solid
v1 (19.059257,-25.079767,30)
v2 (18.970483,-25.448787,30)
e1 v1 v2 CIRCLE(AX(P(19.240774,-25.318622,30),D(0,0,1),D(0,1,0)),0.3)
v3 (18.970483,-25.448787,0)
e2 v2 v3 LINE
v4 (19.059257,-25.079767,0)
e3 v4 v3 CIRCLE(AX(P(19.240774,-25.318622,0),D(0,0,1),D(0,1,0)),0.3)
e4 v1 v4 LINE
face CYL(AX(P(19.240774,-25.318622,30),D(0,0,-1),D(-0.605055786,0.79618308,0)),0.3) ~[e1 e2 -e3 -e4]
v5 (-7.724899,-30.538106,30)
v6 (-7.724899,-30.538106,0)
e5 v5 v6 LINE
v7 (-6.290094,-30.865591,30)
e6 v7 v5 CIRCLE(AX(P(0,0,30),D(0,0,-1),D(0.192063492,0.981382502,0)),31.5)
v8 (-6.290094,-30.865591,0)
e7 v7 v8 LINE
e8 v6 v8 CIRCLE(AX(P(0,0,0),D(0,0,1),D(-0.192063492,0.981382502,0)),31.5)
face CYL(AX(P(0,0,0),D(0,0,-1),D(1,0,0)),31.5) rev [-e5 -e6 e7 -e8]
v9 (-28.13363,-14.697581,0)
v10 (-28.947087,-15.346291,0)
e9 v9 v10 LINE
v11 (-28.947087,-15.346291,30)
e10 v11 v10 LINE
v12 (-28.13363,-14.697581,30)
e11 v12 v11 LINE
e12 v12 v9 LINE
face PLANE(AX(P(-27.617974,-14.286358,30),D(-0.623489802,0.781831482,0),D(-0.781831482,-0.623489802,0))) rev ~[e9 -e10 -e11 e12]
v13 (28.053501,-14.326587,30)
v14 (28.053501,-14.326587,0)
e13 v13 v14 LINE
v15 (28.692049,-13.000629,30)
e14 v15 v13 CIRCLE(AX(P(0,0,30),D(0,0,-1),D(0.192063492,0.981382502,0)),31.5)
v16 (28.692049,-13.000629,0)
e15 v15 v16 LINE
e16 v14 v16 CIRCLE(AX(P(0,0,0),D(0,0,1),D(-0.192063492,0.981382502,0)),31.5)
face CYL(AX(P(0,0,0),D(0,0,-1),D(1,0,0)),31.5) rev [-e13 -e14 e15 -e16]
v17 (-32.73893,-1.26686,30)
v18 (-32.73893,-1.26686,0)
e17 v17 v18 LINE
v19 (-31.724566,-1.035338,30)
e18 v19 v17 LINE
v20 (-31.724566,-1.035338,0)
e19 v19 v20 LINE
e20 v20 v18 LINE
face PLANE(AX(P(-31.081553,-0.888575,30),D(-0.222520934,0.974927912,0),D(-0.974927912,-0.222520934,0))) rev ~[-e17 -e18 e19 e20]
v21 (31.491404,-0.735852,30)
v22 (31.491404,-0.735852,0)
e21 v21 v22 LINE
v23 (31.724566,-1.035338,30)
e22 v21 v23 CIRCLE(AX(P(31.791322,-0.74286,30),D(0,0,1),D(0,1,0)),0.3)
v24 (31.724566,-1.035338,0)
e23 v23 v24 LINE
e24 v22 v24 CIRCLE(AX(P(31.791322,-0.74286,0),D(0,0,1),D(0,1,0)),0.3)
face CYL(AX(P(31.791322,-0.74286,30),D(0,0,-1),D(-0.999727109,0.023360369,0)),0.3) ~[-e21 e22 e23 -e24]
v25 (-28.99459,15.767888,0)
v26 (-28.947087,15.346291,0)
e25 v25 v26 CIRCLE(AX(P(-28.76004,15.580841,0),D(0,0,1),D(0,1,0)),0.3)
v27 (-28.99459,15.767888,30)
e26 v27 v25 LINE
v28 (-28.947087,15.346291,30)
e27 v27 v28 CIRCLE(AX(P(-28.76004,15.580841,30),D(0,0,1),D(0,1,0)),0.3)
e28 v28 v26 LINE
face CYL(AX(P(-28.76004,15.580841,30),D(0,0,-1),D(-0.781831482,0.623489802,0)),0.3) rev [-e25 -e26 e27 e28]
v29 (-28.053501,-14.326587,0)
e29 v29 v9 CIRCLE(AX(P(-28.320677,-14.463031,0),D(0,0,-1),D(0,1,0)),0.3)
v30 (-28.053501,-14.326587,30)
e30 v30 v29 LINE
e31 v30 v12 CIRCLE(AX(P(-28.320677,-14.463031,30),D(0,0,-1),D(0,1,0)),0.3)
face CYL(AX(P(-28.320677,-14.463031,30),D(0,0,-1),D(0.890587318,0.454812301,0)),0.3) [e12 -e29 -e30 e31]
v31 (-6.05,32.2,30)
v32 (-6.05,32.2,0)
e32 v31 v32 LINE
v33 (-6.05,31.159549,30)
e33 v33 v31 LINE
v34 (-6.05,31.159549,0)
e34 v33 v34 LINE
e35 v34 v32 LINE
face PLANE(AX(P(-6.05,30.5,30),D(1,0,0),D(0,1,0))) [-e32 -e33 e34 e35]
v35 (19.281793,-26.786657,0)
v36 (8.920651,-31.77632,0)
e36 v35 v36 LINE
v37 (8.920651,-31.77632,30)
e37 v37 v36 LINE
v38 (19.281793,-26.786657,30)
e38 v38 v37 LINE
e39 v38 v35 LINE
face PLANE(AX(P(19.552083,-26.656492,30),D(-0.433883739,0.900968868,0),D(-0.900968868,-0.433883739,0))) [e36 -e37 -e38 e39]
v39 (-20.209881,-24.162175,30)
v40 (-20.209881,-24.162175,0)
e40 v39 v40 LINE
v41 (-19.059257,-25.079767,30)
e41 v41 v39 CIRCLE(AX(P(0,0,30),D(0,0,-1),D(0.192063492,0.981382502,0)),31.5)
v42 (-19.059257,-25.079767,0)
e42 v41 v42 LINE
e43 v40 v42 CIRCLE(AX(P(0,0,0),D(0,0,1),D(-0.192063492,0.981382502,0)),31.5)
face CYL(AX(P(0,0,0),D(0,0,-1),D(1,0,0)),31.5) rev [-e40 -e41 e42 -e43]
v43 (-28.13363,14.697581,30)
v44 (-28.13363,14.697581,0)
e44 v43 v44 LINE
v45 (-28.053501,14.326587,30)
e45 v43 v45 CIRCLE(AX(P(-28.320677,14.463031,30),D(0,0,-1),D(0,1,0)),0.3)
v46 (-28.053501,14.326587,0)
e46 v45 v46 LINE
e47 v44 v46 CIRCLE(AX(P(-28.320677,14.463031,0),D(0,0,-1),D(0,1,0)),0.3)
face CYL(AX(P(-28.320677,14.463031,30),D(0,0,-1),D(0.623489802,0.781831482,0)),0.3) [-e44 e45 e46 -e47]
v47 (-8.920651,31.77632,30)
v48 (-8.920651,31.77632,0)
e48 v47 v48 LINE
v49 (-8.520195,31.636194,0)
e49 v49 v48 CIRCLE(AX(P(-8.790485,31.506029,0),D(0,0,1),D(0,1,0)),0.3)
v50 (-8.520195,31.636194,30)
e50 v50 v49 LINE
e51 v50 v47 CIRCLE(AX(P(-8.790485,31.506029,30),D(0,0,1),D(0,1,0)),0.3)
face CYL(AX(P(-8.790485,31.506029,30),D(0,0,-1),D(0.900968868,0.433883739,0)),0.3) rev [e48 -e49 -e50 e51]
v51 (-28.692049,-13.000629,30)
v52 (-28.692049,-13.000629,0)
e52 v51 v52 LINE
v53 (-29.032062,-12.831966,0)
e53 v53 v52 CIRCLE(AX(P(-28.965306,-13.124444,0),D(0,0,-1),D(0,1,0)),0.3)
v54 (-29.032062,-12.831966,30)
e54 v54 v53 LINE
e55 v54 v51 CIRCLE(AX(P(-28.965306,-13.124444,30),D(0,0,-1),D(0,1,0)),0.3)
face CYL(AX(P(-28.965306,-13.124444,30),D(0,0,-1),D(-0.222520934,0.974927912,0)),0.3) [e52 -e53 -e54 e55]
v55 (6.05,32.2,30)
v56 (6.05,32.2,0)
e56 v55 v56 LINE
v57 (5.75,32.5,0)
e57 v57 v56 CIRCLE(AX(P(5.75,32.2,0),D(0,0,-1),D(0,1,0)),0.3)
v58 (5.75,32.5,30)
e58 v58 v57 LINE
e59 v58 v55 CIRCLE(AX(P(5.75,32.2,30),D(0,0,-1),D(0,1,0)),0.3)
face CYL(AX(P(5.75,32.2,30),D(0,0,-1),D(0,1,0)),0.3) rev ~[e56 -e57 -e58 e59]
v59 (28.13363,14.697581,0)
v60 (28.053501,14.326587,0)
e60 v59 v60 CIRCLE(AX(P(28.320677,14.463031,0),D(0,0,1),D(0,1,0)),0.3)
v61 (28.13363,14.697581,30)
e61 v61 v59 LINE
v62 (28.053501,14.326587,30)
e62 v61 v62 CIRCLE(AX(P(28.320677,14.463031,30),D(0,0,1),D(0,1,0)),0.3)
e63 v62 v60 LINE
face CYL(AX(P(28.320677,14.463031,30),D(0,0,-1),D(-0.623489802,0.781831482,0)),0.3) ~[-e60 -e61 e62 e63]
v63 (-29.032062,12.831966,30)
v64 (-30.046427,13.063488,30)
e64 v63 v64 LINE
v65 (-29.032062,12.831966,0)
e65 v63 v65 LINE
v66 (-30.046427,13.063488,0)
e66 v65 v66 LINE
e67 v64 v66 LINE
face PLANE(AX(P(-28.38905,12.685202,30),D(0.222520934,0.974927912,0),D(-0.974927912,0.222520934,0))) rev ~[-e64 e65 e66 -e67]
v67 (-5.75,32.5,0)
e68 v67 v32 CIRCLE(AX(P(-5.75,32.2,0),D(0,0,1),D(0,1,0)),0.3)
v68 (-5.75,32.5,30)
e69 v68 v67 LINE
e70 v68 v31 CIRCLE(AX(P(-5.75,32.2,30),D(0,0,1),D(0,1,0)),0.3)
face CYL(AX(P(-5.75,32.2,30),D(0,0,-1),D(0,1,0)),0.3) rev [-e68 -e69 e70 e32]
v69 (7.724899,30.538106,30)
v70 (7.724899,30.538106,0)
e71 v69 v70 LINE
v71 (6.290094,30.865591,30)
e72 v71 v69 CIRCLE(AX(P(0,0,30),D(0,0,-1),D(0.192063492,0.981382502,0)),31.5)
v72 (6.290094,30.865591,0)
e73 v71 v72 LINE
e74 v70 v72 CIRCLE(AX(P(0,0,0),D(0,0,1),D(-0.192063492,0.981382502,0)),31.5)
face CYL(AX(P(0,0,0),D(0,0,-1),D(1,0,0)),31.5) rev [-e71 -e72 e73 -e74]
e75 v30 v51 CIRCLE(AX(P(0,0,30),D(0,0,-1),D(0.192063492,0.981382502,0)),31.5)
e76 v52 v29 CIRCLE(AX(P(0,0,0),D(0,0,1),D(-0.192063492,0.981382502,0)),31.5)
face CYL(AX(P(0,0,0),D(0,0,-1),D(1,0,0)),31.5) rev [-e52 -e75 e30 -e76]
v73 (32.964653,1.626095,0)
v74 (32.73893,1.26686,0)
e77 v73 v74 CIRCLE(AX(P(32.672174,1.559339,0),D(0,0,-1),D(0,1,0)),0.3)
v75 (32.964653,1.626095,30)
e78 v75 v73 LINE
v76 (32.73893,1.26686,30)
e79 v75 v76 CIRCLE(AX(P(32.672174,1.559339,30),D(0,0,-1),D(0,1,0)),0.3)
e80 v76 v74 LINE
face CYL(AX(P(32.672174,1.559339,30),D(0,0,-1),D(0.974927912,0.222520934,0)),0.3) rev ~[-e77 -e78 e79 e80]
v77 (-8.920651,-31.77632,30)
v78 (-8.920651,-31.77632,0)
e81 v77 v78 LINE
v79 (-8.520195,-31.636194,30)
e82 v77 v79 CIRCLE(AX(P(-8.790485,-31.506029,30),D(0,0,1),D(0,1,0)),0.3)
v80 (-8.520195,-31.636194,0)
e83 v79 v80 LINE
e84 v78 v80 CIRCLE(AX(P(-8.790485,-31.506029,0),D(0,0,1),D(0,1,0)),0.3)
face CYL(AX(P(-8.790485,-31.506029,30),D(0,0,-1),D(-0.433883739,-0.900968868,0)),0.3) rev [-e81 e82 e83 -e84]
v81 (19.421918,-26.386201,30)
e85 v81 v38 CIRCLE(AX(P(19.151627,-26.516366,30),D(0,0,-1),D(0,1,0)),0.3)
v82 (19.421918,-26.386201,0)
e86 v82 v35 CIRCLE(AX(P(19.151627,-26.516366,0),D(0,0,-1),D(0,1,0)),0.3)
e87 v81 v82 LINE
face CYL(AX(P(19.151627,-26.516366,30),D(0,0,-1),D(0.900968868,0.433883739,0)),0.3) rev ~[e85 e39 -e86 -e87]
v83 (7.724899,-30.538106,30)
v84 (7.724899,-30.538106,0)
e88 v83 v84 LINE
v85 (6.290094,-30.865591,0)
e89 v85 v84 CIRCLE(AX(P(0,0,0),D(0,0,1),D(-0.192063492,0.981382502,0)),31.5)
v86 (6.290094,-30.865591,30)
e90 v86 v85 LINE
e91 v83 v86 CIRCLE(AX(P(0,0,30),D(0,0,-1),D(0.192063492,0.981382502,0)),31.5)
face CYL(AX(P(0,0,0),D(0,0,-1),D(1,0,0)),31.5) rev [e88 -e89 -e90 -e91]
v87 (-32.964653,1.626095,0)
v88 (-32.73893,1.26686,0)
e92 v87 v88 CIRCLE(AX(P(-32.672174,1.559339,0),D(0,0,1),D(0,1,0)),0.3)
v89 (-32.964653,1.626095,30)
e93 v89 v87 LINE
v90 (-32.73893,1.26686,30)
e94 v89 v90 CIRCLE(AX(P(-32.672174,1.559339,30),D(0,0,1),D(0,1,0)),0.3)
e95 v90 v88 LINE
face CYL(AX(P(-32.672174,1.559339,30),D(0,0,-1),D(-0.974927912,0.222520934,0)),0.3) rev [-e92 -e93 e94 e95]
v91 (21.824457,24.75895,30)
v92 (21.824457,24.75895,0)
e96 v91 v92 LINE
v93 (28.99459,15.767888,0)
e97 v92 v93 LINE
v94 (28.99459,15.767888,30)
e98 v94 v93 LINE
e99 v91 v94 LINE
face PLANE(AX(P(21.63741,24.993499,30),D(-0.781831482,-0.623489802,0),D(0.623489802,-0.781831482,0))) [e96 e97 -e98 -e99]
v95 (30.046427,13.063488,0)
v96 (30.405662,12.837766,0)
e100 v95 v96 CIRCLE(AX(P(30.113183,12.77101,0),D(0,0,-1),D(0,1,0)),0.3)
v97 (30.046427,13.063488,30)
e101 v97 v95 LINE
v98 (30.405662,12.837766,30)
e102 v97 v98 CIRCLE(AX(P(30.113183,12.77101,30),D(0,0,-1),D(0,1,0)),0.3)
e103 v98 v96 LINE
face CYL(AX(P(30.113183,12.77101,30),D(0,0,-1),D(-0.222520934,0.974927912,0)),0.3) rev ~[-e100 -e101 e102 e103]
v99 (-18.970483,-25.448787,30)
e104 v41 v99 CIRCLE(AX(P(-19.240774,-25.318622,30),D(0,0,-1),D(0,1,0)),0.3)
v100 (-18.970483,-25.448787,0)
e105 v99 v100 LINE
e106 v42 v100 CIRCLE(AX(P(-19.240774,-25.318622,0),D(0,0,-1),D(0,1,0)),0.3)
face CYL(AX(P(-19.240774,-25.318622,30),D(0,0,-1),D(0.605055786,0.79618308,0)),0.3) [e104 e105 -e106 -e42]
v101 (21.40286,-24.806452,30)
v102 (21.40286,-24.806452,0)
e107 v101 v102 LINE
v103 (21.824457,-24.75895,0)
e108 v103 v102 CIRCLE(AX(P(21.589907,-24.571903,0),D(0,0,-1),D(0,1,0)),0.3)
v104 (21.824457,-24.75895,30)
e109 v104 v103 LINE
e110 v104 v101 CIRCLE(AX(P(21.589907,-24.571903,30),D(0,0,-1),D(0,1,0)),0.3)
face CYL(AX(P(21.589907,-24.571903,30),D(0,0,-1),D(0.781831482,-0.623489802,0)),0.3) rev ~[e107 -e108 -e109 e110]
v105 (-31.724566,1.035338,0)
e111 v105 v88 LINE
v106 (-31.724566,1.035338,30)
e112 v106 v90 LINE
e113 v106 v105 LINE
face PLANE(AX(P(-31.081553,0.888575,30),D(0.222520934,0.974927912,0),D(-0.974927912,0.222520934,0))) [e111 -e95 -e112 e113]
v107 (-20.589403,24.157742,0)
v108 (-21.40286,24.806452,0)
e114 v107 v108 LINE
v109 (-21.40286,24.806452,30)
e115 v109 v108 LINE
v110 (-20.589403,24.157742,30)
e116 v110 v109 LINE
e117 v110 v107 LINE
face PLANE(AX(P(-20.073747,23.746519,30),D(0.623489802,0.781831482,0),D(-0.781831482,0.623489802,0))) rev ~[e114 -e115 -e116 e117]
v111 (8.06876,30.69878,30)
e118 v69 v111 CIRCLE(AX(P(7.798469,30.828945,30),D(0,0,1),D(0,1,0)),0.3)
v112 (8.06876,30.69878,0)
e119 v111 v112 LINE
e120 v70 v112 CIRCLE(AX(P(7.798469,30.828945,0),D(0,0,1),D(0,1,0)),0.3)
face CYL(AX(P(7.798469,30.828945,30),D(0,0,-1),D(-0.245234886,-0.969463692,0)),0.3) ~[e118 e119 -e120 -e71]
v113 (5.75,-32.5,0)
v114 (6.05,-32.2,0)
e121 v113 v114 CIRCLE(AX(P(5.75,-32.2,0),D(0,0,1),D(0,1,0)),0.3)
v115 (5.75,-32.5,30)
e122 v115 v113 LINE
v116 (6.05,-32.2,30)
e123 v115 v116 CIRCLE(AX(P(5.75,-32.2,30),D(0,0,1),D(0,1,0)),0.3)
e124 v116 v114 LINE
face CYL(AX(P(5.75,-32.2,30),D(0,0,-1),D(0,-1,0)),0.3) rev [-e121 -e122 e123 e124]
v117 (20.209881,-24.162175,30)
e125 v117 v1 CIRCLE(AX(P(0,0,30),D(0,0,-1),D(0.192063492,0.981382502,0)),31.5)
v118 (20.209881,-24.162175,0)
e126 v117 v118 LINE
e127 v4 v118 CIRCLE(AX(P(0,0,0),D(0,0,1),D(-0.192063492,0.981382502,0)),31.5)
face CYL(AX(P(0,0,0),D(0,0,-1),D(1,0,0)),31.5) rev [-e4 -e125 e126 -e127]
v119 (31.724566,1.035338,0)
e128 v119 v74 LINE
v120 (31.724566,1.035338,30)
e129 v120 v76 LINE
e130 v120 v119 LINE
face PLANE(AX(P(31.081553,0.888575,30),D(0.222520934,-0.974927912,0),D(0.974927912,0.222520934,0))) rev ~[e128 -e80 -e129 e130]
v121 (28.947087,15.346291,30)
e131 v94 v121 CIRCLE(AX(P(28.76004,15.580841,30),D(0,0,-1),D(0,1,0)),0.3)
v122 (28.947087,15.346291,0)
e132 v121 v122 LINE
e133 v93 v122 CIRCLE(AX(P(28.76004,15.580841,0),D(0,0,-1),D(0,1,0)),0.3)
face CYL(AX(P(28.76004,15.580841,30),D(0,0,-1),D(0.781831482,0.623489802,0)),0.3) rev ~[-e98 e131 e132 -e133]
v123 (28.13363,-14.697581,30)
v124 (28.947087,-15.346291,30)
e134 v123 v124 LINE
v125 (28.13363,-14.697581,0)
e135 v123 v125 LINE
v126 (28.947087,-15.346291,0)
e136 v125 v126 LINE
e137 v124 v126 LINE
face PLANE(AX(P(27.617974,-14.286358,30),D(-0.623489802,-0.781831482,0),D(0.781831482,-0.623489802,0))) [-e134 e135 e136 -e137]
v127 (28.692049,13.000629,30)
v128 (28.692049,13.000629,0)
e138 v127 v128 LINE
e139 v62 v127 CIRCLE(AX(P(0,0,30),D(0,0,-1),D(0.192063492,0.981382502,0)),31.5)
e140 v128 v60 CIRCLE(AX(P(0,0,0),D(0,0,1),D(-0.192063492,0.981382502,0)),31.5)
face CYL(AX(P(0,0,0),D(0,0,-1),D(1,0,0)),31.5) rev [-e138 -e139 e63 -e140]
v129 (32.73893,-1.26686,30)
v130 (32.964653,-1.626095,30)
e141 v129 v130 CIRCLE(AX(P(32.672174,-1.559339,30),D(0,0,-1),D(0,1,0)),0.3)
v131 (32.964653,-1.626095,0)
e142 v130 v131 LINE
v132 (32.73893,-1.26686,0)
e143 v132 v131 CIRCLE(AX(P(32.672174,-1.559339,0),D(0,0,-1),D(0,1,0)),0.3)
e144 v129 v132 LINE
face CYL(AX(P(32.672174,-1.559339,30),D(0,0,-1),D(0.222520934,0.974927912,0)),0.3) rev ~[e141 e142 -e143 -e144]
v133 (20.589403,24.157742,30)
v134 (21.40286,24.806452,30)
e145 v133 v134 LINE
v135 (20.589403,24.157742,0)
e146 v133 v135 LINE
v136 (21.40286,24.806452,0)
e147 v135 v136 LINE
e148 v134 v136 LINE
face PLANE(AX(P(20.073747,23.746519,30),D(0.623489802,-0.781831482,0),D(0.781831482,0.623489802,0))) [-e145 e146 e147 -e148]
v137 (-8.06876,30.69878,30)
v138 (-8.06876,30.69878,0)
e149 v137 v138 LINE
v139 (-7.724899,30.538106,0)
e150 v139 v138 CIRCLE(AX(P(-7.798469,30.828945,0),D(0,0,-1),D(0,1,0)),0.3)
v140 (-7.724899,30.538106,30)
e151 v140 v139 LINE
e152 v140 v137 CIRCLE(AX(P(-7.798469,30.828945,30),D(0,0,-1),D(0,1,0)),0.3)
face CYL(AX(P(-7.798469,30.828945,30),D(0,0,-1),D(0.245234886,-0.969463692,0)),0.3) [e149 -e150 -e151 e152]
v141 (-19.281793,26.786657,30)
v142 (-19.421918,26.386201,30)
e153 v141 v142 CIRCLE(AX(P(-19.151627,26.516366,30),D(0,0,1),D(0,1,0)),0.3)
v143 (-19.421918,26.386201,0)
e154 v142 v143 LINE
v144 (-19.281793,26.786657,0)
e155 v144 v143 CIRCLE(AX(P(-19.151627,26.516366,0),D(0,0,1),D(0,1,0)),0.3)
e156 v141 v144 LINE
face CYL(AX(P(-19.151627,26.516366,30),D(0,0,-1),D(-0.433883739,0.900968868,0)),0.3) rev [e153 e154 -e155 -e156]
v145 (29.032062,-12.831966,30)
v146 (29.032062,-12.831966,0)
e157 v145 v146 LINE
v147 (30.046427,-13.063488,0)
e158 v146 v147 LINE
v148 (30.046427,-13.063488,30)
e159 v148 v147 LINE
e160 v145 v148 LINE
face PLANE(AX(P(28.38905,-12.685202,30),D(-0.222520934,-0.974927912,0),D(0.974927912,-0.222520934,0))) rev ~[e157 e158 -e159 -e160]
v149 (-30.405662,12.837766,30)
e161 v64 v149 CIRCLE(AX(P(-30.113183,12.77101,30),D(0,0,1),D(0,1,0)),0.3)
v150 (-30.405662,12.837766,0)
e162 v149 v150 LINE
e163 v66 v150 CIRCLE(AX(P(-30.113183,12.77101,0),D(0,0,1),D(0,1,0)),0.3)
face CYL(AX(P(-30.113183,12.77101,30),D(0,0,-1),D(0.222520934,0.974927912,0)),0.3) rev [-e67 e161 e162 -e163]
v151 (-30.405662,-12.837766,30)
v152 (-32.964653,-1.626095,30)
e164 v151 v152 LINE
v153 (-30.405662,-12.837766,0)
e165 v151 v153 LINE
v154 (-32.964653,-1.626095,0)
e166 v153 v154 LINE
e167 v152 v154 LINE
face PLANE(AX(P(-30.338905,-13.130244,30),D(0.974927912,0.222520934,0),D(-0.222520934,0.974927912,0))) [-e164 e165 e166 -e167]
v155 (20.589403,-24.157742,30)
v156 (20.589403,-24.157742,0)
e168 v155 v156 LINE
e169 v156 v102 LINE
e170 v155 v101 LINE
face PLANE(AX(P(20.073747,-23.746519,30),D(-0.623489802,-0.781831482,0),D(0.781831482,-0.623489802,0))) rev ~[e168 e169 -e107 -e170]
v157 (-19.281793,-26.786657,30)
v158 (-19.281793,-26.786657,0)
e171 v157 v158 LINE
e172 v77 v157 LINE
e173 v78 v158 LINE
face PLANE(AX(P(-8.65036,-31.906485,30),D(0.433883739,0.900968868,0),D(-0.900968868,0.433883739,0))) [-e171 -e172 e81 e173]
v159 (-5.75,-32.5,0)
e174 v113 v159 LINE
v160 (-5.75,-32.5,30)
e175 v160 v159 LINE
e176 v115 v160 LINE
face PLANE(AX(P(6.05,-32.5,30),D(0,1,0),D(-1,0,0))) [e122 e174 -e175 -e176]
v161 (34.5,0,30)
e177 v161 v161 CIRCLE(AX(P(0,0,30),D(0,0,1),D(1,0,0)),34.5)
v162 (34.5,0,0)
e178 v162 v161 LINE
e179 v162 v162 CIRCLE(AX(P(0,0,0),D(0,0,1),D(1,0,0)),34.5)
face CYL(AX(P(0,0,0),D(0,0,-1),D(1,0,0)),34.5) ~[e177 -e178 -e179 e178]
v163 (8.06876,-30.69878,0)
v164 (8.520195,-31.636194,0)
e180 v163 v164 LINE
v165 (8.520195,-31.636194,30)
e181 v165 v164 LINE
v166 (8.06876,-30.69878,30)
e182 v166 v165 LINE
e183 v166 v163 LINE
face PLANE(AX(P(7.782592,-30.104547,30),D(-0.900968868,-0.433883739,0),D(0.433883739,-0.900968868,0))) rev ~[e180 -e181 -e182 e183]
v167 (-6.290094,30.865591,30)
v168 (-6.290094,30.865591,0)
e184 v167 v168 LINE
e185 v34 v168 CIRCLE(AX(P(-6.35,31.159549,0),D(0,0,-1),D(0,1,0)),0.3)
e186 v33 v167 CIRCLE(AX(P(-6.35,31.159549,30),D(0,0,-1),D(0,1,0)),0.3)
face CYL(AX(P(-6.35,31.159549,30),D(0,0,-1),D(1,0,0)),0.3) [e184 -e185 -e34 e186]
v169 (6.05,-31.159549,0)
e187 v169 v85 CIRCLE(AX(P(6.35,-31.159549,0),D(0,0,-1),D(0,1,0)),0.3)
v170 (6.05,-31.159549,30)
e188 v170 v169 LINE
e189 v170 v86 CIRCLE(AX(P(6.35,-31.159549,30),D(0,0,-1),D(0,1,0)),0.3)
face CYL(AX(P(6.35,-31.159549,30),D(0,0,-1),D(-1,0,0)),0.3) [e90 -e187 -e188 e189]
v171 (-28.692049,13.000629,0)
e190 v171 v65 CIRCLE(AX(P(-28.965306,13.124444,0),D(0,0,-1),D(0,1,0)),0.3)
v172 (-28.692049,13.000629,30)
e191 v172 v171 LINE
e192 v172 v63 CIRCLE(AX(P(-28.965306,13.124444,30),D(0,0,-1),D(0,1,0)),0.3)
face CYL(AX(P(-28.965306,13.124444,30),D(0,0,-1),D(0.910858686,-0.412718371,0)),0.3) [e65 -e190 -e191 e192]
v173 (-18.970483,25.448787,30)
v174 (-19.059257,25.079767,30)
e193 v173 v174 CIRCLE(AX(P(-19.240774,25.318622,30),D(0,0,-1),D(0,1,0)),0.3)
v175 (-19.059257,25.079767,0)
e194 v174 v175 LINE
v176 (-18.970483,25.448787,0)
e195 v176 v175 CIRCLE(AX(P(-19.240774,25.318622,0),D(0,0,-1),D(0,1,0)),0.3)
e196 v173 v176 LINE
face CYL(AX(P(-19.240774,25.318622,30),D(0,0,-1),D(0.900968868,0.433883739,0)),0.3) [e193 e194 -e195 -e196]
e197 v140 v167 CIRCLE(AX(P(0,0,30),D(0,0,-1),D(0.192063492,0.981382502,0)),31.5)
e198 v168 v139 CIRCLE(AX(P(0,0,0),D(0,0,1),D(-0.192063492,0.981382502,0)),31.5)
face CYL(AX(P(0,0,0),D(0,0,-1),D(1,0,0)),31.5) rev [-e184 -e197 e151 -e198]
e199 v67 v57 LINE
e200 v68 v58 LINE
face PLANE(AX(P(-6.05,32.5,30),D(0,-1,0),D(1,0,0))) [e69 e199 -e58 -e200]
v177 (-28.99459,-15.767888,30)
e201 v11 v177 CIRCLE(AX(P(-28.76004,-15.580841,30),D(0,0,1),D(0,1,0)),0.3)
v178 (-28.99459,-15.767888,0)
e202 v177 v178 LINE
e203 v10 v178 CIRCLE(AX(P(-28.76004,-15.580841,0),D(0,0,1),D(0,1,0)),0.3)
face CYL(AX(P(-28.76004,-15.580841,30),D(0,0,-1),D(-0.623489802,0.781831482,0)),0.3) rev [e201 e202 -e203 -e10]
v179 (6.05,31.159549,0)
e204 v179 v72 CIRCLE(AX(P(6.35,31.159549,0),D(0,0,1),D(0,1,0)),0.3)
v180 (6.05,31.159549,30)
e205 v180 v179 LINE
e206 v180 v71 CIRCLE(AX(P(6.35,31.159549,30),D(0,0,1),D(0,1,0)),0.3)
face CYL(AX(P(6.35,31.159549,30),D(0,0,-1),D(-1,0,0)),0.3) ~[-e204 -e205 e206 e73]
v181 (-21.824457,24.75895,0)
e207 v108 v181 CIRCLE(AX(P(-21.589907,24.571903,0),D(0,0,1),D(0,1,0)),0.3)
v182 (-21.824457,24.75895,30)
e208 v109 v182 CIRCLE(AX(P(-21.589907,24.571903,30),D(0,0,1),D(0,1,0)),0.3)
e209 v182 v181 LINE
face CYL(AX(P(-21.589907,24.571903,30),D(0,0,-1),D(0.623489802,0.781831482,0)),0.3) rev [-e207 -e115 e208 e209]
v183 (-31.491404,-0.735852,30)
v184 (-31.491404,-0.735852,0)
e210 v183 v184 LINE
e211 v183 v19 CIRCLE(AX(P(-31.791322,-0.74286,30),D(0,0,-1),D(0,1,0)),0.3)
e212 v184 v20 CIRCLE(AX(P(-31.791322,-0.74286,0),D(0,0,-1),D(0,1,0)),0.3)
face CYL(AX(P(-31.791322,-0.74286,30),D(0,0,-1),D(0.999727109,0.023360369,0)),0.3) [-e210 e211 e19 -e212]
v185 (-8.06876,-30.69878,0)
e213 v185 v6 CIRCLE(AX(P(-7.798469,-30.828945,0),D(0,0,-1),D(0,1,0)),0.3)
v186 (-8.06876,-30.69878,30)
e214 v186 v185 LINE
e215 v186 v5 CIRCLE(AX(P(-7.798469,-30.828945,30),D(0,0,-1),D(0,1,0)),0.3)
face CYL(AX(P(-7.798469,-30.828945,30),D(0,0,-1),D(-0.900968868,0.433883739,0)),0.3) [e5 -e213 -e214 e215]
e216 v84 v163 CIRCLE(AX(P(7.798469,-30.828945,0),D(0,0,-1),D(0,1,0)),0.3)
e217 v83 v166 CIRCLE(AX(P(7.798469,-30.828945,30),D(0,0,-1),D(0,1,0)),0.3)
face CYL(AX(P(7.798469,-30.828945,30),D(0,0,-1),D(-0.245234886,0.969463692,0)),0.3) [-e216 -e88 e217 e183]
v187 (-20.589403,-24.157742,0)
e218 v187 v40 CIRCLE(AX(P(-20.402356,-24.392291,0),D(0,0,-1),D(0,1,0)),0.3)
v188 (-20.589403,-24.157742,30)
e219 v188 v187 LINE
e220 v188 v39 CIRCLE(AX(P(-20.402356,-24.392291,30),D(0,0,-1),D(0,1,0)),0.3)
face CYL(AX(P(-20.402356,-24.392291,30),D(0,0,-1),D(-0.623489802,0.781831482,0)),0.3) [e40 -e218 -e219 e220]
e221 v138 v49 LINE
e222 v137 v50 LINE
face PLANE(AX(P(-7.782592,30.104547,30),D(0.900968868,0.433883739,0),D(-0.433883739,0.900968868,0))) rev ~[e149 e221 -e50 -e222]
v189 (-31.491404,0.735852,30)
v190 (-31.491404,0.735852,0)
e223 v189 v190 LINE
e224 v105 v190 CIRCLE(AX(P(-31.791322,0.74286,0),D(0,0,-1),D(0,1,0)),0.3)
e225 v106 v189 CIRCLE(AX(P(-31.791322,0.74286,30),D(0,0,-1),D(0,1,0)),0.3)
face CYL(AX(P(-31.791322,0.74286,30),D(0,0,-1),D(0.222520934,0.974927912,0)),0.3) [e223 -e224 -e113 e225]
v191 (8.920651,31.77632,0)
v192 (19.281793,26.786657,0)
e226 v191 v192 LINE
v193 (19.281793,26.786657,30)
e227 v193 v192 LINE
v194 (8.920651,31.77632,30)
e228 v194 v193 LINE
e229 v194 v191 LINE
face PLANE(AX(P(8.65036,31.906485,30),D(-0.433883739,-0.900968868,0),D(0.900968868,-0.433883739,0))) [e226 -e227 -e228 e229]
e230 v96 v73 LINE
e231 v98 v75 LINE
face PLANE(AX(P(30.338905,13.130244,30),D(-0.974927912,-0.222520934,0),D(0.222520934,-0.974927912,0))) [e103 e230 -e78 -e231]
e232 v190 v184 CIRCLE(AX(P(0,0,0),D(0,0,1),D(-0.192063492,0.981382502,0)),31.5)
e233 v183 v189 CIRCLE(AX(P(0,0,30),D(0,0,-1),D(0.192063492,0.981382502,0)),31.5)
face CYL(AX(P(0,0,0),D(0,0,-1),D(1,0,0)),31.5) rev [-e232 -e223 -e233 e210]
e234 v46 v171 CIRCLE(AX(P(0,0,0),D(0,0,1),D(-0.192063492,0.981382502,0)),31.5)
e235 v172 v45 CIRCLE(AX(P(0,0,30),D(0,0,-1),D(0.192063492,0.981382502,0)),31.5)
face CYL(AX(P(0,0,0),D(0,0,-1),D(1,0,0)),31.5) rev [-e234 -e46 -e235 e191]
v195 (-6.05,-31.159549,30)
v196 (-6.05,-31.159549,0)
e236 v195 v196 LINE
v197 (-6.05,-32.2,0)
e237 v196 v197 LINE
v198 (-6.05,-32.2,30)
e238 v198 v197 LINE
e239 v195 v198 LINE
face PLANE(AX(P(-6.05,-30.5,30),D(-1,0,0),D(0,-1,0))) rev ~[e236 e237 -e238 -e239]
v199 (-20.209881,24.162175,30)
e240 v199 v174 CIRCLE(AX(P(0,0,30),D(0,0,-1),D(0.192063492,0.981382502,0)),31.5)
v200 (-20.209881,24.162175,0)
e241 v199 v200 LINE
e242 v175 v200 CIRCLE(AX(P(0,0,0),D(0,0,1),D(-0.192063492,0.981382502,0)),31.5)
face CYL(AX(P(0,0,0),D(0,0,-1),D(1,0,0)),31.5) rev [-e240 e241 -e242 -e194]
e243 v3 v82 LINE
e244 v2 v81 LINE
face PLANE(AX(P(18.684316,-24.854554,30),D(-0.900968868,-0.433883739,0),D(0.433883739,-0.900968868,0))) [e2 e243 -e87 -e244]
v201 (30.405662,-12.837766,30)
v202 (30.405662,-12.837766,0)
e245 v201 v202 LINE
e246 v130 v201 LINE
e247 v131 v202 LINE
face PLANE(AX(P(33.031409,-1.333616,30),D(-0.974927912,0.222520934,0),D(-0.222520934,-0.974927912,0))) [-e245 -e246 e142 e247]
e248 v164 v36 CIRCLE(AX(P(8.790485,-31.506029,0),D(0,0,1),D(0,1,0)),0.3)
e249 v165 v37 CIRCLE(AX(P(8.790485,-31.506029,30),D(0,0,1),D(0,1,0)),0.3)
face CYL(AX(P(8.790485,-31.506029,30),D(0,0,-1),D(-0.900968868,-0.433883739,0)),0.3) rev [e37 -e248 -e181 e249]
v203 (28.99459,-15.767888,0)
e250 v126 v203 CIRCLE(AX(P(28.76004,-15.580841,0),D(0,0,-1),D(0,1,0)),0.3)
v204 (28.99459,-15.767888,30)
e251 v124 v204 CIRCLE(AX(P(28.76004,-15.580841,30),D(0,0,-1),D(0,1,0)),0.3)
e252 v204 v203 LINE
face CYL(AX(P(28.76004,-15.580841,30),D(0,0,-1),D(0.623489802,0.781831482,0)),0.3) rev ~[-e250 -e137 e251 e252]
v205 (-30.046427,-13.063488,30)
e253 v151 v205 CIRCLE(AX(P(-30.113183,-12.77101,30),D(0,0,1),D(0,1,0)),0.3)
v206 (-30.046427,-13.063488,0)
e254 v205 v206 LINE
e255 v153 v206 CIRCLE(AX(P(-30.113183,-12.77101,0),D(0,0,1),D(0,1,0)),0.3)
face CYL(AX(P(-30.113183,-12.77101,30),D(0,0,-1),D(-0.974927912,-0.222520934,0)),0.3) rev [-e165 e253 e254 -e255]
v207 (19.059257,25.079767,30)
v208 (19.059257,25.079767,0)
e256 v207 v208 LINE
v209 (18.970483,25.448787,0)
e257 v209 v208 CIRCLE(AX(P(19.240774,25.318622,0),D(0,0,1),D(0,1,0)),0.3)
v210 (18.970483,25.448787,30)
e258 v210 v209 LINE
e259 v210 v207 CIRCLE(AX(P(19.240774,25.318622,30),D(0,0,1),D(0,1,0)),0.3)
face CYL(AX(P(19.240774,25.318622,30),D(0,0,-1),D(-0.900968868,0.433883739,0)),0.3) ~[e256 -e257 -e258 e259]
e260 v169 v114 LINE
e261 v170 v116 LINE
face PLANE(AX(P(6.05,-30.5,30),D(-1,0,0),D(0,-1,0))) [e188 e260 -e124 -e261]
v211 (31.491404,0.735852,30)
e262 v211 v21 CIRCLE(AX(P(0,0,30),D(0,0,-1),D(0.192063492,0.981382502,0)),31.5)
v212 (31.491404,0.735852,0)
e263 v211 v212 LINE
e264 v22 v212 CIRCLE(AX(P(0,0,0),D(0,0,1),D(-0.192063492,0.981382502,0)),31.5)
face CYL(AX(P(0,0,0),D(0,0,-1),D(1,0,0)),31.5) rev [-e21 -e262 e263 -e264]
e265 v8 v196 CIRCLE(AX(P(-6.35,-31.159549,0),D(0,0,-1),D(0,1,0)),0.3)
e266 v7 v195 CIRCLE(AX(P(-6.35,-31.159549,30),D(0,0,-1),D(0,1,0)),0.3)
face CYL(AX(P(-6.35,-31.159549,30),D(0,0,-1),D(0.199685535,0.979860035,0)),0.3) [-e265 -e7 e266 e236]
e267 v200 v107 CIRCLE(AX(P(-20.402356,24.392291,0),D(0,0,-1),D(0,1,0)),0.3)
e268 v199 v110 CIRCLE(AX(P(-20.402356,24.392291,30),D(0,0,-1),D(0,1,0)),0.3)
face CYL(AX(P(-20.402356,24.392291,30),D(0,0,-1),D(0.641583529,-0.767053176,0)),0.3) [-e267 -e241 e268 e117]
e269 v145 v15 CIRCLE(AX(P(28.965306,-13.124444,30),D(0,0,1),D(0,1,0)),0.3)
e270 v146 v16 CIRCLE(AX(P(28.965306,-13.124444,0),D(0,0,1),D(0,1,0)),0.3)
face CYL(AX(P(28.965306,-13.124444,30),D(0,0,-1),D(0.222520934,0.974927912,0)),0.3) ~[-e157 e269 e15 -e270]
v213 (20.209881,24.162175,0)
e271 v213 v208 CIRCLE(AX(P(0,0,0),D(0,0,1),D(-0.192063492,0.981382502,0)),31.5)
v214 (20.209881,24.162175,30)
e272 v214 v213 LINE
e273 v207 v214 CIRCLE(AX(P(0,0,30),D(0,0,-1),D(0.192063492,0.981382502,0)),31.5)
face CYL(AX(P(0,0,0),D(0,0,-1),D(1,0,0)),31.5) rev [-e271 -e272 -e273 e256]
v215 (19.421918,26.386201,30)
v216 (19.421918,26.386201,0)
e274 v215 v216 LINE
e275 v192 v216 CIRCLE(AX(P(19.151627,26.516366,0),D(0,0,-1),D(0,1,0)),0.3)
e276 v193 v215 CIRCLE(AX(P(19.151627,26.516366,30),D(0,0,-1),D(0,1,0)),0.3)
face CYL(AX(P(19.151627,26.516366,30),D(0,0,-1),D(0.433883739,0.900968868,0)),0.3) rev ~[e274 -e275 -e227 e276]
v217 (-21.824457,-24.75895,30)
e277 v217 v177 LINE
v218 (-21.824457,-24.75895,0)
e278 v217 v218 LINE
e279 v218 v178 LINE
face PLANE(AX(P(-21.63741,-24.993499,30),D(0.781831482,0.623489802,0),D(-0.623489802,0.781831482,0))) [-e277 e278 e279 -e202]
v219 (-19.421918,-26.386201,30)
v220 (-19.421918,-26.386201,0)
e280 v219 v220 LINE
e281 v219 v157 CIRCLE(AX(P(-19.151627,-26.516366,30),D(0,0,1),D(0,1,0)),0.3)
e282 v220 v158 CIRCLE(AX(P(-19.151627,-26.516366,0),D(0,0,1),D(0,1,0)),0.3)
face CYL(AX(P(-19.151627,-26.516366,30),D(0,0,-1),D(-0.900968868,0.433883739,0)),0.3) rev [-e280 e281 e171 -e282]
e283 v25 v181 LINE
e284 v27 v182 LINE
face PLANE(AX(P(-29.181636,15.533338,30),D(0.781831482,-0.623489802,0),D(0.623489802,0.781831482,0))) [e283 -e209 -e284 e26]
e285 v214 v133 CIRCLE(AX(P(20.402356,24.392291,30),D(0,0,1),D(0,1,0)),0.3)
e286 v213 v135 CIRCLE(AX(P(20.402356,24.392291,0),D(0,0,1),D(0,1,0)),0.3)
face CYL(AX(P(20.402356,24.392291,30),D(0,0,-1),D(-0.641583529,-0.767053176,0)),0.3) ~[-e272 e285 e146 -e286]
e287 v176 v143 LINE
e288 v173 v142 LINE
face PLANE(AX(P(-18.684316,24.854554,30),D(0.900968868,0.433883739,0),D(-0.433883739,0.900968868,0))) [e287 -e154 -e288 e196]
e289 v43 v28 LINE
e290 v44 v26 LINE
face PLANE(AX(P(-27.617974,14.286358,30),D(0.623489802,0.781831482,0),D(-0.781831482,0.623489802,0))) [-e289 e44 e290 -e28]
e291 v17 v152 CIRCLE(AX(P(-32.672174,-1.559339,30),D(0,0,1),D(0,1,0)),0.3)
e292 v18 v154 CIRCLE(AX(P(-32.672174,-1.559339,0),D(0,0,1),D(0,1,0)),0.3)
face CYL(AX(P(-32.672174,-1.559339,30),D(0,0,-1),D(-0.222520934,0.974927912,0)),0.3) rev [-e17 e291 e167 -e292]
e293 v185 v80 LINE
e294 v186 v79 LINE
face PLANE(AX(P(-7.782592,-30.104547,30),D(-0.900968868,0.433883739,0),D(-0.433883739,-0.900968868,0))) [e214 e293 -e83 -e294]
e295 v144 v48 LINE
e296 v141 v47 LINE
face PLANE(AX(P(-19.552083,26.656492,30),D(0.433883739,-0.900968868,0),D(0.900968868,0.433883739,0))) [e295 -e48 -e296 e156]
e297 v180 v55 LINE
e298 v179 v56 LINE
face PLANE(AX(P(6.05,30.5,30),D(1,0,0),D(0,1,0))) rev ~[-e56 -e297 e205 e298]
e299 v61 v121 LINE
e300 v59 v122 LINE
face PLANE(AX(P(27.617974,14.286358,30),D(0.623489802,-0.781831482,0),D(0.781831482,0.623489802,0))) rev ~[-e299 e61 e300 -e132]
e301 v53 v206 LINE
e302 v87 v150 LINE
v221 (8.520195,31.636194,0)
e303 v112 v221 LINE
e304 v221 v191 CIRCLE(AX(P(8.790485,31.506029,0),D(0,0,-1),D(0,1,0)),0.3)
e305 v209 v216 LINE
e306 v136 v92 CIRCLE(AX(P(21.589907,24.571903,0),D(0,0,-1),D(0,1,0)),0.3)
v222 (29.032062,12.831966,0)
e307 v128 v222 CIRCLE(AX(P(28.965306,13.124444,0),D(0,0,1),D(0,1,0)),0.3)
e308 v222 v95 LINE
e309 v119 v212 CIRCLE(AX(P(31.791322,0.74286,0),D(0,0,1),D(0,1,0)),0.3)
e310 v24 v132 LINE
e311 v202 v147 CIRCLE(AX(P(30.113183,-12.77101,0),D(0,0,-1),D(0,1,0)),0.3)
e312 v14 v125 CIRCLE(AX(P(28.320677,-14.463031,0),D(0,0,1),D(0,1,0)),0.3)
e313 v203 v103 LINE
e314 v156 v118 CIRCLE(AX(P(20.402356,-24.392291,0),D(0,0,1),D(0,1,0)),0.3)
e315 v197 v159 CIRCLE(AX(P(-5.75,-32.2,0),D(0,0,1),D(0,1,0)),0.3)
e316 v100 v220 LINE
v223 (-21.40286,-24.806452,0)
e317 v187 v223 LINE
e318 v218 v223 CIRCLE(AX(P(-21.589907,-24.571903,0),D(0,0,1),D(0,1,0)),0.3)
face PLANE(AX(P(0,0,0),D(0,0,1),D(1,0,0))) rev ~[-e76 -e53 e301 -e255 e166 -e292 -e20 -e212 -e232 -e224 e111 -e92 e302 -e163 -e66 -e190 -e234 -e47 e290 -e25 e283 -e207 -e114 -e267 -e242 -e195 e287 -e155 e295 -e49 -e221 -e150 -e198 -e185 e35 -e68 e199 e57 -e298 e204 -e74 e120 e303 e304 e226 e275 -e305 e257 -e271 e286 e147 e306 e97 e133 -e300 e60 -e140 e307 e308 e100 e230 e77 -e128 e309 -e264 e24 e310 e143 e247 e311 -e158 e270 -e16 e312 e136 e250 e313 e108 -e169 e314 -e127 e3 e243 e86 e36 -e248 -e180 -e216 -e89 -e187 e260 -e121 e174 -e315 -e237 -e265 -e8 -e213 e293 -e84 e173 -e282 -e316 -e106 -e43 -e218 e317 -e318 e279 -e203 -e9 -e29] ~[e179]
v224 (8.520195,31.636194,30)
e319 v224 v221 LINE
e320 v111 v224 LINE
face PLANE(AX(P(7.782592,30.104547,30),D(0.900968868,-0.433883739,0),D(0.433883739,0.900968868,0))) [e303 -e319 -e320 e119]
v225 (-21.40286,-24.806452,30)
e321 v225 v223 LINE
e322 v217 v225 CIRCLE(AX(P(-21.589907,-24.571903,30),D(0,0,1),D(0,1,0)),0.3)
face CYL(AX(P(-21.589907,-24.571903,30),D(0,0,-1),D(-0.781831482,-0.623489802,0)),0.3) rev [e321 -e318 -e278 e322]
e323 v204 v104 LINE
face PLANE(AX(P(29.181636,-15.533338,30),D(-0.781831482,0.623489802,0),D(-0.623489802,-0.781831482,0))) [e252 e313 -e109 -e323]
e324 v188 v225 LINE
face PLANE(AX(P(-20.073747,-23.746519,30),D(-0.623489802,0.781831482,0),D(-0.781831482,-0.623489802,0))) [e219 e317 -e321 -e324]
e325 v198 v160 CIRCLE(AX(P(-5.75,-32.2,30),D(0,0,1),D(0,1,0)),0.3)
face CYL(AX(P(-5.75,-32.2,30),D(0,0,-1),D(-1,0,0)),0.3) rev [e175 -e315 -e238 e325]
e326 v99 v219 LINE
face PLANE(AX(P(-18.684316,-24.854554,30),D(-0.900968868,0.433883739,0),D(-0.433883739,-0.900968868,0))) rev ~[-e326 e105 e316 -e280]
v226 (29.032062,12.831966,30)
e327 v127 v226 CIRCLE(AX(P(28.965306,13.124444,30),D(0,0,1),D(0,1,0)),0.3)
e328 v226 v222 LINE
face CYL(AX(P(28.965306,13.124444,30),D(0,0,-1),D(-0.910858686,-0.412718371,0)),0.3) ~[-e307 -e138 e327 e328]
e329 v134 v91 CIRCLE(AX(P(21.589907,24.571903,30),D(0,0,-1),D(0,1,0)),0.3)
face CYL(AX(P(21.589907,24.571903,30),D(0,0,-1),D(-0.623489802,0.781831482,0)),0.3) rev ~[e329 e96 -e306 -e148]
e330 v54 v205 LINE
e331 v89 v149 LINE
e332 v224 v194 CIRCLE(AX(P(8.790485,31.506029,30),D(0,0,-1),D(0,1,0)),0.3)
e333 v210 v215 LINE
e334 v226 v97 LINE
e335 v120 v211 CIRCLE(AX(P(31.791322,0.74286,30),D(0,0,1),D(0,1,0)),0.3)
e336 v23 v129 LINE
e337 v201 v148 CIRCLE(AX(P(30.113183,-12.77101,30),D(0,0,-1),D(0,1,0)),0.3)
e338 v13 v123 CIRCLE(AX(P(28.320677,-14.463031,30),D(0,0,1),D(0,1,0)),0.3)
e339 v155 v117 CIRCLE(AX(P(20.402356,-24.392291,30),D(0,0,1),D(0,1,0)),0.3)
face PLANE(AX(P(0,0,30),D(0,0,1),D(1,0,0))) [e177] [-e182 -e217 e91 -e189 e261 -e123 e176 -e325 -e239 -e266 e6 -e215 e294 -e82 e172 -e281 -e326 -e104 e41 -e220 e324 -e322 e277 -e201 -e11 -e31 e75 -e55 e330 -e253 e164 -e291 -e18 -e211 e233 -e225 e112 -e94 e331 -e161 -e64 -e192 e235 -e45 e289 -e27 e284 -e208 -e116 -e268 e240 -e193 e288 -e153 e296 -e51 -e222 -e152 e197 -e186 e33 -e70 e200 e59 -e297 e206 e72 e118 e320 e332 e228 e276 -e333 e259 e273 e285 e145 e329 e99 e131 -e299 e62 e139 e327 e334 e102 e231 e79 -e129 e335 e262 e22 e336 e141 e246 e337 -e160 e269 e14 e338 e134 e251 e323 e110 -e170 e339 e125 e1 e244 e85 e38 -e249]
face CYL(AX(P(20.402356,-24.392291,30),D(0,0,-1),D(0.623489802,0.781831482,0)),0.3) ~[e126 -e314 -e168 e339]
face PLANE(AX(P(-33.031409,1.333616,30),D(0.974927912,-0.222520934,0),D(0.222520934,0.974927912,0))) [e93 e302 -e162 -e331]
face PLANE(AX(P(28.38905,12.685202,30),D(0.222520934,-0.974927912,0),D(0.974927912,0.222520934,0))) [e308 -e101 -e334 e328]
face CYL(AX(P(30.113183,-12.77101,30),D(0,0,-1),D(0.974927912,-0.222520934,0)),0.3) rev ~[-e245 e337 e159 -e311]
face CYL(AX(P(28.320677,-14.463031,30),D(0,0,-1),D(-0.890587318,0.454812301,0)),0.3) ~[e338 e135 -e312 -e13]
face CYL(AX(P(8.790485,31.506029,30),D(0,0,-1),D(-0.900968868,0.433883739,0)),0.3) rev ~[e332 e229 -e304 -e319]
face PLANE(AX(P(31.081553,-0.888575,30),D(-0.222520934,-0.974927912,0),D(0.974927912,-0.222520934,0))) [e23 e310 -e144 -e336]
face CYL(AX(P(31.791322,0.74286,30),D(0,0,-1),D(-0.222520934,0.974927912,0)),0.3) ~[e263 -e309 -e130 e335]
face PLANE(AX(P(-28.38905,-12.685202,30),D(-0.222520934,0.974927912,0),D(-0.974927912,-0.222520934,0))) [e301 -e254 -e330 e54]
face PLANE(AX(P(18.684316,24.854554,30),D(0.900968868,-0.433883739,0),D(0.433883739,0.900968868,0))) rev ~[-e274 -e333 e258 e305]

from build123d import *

# Parameters (mm, degrees)
SKETCH_5_R               = 34.5
SKETCH_5_R_2             = 31.5
EXTRUDE_3_DEPTH          = 30
SKETCH_6_W               = 12.1
SKETCH_6_H               = 2
CUT_EXTRUDE_1_DEPTH      = 31
PATTERN_CIRCULAR_4_COUNT = 14
FILLET_1_R               = 0.3
FILLET_2_R               = 0.3
FILLET_3_R               = 0.3


with BuildPart() as part:
    # ｽｹｯﾁ5 → ﾎﾞｽ - 押し出し3 (new body)
    with BuildSketch(Plane.XY):
        Circle(SKETCH_5_R)
        Circle(SKETCH_5_R_2, mode=Mode.SUBTRACT)
    extrude(amount=EXTRUDE_3_DEPTH)

    # ｽｹｯﾁ6 → ｶｯﾄ - 押し出し1 (cut, through all)
    with BuildSketch(Plane.XY.offset(30)):
        with Locations((0, 31.5)):
            Rectangle(SKETCH_6_W, SKETCH_6_H)
    cut_extrude_1 = extrude(amount=-CUT_EXTRUDE_1_DEPTH, mode=Mode.SUBTRACT)

    # 円形ﾊﾟﾀｰﾝ4: ｶｯﾄ - 押し出し1 ×14 about axis
    pattern_circular_4_axis = Axis((0, 0, 0), (0, 0, 1))
    for i in range(1, PATTERN_CIRCULAR_4_COUNT):
        add(cut_extrude_1.rotate(pattern_circular_4_axis, i * 360 / PATTERN_CIRCULAR_4_COUNT), mode=Mode.SUBTRACT)

    # ﾌｨﾚｯﾄ1
    fillet_1_edges = [part.edges().sort_by_distance(p)[0] for p in [
        (-6.05, 30.91354881, 15),
        (-6.05, 32.5, 15),
        (-8.650359871, 31.906484828, 15),
        (-7.962024496, 30.477141695, 15),
    ]]
    fillet(fillet_1_edges, radius=FILLET_1_R)

    # ﾌｨﾚｯﾄ2
    fillet_2_edges = [part.edges().sort_by_distance(p)[0] for p in [
        (6.05, 30.91354881, 15),
        (19.552083172, -26.656491585, 15),
        (21.637409879, -24.993499029, 15),
        (29.181636481, -15.533338091, 15),
        (6.05, 32.5, 15),
        (30.338905495, -13.130244222, 15),
        (33.031408796, -1.333616485, 15),
        (33.031408796, 1.333616485, 15),
        (30.338905495, 13.130244222, 15),
        (29.181636481, 15.533338091, 15),
        (21.637409879, 24.993499029, 15),
        (19.552083172, 26.656491585, 15),
        (8.650359871, 31.906484828, 15),
        (7.962024496, 30.477141695, 15),
        (18.863747798, 25.227148452, 15),
        (20.397072393, 24.004362891, 15),
        (27.941298995, 14.544201953, 15),
        (28.792229949, 12.777225622, 15),
        (31.484733249, 0.980597884, 15),
        (31.484733249, -0.980597884, 15),
        (28.792229949, -12.777225622, 15),
        (27.941298995, -14.544201953, 15),
        (20.397072393, -24.004362891, 15),
        (18.863747798, -25.227148452, 15),
    ]]
    fillet(fillet_2_edges, radius=FILLET_2_R)

    # ﾌｨﾚｯﾄ3
    fillet_3_edges = [part.edges().sort_by_distance(p)[0] for p in [
        (-30.338905495, 13.130244222, 15),
        (-33.031408796, 1.333616485, 15),
        (-33.031408796, -1.333616485, 15),
        (-30.338905495, -13.130244222, 15),
        (-29.181636481, -15.533338091, 15),
        (-21.637409879, -24.993499029, 15),
        (-19.552083172, -26.656491585, 15),
        (-8.650359871, -31.906484828, 15),
        (-6.05, -32.5, 15),
        (6.05, -32.5, 15),
        (8.650359871, -31.906484828, 15),
        (-19.552083172, 26.656491585, 15),
        (-18.863747798, 25.227148452, 15),
        (7.962024496, -30.477141695, 15),
        (6.05, -30.91354881, 15),
        (-6.05, -30.91354881, 15),
        (-7.962024496, -30.477141695, 15),
        (-18.863747798, -25.227148452, 15),
        (-20.397072393, -24.004362891, 15),
        (-27.941298995, -14.544201953, 15),
        (-28.792229949, -12.777225622, 15),
        (-31.484733249, -0.980597884, 15),
        (-31.484733249, 0.980597884, 15),
        (-28.792229949, 12.777225622, 15),
        (-27.941298995, 14.544201953, 15),
        (-20.397072393, 24.004362891, 15),
        (-21.637409879, 24.993499029, 15),
        (-29.181636481, 15.533338091, 15),
    ]]
    fillet(fillet_3_edges, radius=FILLET_3_R)


solid = part.part
